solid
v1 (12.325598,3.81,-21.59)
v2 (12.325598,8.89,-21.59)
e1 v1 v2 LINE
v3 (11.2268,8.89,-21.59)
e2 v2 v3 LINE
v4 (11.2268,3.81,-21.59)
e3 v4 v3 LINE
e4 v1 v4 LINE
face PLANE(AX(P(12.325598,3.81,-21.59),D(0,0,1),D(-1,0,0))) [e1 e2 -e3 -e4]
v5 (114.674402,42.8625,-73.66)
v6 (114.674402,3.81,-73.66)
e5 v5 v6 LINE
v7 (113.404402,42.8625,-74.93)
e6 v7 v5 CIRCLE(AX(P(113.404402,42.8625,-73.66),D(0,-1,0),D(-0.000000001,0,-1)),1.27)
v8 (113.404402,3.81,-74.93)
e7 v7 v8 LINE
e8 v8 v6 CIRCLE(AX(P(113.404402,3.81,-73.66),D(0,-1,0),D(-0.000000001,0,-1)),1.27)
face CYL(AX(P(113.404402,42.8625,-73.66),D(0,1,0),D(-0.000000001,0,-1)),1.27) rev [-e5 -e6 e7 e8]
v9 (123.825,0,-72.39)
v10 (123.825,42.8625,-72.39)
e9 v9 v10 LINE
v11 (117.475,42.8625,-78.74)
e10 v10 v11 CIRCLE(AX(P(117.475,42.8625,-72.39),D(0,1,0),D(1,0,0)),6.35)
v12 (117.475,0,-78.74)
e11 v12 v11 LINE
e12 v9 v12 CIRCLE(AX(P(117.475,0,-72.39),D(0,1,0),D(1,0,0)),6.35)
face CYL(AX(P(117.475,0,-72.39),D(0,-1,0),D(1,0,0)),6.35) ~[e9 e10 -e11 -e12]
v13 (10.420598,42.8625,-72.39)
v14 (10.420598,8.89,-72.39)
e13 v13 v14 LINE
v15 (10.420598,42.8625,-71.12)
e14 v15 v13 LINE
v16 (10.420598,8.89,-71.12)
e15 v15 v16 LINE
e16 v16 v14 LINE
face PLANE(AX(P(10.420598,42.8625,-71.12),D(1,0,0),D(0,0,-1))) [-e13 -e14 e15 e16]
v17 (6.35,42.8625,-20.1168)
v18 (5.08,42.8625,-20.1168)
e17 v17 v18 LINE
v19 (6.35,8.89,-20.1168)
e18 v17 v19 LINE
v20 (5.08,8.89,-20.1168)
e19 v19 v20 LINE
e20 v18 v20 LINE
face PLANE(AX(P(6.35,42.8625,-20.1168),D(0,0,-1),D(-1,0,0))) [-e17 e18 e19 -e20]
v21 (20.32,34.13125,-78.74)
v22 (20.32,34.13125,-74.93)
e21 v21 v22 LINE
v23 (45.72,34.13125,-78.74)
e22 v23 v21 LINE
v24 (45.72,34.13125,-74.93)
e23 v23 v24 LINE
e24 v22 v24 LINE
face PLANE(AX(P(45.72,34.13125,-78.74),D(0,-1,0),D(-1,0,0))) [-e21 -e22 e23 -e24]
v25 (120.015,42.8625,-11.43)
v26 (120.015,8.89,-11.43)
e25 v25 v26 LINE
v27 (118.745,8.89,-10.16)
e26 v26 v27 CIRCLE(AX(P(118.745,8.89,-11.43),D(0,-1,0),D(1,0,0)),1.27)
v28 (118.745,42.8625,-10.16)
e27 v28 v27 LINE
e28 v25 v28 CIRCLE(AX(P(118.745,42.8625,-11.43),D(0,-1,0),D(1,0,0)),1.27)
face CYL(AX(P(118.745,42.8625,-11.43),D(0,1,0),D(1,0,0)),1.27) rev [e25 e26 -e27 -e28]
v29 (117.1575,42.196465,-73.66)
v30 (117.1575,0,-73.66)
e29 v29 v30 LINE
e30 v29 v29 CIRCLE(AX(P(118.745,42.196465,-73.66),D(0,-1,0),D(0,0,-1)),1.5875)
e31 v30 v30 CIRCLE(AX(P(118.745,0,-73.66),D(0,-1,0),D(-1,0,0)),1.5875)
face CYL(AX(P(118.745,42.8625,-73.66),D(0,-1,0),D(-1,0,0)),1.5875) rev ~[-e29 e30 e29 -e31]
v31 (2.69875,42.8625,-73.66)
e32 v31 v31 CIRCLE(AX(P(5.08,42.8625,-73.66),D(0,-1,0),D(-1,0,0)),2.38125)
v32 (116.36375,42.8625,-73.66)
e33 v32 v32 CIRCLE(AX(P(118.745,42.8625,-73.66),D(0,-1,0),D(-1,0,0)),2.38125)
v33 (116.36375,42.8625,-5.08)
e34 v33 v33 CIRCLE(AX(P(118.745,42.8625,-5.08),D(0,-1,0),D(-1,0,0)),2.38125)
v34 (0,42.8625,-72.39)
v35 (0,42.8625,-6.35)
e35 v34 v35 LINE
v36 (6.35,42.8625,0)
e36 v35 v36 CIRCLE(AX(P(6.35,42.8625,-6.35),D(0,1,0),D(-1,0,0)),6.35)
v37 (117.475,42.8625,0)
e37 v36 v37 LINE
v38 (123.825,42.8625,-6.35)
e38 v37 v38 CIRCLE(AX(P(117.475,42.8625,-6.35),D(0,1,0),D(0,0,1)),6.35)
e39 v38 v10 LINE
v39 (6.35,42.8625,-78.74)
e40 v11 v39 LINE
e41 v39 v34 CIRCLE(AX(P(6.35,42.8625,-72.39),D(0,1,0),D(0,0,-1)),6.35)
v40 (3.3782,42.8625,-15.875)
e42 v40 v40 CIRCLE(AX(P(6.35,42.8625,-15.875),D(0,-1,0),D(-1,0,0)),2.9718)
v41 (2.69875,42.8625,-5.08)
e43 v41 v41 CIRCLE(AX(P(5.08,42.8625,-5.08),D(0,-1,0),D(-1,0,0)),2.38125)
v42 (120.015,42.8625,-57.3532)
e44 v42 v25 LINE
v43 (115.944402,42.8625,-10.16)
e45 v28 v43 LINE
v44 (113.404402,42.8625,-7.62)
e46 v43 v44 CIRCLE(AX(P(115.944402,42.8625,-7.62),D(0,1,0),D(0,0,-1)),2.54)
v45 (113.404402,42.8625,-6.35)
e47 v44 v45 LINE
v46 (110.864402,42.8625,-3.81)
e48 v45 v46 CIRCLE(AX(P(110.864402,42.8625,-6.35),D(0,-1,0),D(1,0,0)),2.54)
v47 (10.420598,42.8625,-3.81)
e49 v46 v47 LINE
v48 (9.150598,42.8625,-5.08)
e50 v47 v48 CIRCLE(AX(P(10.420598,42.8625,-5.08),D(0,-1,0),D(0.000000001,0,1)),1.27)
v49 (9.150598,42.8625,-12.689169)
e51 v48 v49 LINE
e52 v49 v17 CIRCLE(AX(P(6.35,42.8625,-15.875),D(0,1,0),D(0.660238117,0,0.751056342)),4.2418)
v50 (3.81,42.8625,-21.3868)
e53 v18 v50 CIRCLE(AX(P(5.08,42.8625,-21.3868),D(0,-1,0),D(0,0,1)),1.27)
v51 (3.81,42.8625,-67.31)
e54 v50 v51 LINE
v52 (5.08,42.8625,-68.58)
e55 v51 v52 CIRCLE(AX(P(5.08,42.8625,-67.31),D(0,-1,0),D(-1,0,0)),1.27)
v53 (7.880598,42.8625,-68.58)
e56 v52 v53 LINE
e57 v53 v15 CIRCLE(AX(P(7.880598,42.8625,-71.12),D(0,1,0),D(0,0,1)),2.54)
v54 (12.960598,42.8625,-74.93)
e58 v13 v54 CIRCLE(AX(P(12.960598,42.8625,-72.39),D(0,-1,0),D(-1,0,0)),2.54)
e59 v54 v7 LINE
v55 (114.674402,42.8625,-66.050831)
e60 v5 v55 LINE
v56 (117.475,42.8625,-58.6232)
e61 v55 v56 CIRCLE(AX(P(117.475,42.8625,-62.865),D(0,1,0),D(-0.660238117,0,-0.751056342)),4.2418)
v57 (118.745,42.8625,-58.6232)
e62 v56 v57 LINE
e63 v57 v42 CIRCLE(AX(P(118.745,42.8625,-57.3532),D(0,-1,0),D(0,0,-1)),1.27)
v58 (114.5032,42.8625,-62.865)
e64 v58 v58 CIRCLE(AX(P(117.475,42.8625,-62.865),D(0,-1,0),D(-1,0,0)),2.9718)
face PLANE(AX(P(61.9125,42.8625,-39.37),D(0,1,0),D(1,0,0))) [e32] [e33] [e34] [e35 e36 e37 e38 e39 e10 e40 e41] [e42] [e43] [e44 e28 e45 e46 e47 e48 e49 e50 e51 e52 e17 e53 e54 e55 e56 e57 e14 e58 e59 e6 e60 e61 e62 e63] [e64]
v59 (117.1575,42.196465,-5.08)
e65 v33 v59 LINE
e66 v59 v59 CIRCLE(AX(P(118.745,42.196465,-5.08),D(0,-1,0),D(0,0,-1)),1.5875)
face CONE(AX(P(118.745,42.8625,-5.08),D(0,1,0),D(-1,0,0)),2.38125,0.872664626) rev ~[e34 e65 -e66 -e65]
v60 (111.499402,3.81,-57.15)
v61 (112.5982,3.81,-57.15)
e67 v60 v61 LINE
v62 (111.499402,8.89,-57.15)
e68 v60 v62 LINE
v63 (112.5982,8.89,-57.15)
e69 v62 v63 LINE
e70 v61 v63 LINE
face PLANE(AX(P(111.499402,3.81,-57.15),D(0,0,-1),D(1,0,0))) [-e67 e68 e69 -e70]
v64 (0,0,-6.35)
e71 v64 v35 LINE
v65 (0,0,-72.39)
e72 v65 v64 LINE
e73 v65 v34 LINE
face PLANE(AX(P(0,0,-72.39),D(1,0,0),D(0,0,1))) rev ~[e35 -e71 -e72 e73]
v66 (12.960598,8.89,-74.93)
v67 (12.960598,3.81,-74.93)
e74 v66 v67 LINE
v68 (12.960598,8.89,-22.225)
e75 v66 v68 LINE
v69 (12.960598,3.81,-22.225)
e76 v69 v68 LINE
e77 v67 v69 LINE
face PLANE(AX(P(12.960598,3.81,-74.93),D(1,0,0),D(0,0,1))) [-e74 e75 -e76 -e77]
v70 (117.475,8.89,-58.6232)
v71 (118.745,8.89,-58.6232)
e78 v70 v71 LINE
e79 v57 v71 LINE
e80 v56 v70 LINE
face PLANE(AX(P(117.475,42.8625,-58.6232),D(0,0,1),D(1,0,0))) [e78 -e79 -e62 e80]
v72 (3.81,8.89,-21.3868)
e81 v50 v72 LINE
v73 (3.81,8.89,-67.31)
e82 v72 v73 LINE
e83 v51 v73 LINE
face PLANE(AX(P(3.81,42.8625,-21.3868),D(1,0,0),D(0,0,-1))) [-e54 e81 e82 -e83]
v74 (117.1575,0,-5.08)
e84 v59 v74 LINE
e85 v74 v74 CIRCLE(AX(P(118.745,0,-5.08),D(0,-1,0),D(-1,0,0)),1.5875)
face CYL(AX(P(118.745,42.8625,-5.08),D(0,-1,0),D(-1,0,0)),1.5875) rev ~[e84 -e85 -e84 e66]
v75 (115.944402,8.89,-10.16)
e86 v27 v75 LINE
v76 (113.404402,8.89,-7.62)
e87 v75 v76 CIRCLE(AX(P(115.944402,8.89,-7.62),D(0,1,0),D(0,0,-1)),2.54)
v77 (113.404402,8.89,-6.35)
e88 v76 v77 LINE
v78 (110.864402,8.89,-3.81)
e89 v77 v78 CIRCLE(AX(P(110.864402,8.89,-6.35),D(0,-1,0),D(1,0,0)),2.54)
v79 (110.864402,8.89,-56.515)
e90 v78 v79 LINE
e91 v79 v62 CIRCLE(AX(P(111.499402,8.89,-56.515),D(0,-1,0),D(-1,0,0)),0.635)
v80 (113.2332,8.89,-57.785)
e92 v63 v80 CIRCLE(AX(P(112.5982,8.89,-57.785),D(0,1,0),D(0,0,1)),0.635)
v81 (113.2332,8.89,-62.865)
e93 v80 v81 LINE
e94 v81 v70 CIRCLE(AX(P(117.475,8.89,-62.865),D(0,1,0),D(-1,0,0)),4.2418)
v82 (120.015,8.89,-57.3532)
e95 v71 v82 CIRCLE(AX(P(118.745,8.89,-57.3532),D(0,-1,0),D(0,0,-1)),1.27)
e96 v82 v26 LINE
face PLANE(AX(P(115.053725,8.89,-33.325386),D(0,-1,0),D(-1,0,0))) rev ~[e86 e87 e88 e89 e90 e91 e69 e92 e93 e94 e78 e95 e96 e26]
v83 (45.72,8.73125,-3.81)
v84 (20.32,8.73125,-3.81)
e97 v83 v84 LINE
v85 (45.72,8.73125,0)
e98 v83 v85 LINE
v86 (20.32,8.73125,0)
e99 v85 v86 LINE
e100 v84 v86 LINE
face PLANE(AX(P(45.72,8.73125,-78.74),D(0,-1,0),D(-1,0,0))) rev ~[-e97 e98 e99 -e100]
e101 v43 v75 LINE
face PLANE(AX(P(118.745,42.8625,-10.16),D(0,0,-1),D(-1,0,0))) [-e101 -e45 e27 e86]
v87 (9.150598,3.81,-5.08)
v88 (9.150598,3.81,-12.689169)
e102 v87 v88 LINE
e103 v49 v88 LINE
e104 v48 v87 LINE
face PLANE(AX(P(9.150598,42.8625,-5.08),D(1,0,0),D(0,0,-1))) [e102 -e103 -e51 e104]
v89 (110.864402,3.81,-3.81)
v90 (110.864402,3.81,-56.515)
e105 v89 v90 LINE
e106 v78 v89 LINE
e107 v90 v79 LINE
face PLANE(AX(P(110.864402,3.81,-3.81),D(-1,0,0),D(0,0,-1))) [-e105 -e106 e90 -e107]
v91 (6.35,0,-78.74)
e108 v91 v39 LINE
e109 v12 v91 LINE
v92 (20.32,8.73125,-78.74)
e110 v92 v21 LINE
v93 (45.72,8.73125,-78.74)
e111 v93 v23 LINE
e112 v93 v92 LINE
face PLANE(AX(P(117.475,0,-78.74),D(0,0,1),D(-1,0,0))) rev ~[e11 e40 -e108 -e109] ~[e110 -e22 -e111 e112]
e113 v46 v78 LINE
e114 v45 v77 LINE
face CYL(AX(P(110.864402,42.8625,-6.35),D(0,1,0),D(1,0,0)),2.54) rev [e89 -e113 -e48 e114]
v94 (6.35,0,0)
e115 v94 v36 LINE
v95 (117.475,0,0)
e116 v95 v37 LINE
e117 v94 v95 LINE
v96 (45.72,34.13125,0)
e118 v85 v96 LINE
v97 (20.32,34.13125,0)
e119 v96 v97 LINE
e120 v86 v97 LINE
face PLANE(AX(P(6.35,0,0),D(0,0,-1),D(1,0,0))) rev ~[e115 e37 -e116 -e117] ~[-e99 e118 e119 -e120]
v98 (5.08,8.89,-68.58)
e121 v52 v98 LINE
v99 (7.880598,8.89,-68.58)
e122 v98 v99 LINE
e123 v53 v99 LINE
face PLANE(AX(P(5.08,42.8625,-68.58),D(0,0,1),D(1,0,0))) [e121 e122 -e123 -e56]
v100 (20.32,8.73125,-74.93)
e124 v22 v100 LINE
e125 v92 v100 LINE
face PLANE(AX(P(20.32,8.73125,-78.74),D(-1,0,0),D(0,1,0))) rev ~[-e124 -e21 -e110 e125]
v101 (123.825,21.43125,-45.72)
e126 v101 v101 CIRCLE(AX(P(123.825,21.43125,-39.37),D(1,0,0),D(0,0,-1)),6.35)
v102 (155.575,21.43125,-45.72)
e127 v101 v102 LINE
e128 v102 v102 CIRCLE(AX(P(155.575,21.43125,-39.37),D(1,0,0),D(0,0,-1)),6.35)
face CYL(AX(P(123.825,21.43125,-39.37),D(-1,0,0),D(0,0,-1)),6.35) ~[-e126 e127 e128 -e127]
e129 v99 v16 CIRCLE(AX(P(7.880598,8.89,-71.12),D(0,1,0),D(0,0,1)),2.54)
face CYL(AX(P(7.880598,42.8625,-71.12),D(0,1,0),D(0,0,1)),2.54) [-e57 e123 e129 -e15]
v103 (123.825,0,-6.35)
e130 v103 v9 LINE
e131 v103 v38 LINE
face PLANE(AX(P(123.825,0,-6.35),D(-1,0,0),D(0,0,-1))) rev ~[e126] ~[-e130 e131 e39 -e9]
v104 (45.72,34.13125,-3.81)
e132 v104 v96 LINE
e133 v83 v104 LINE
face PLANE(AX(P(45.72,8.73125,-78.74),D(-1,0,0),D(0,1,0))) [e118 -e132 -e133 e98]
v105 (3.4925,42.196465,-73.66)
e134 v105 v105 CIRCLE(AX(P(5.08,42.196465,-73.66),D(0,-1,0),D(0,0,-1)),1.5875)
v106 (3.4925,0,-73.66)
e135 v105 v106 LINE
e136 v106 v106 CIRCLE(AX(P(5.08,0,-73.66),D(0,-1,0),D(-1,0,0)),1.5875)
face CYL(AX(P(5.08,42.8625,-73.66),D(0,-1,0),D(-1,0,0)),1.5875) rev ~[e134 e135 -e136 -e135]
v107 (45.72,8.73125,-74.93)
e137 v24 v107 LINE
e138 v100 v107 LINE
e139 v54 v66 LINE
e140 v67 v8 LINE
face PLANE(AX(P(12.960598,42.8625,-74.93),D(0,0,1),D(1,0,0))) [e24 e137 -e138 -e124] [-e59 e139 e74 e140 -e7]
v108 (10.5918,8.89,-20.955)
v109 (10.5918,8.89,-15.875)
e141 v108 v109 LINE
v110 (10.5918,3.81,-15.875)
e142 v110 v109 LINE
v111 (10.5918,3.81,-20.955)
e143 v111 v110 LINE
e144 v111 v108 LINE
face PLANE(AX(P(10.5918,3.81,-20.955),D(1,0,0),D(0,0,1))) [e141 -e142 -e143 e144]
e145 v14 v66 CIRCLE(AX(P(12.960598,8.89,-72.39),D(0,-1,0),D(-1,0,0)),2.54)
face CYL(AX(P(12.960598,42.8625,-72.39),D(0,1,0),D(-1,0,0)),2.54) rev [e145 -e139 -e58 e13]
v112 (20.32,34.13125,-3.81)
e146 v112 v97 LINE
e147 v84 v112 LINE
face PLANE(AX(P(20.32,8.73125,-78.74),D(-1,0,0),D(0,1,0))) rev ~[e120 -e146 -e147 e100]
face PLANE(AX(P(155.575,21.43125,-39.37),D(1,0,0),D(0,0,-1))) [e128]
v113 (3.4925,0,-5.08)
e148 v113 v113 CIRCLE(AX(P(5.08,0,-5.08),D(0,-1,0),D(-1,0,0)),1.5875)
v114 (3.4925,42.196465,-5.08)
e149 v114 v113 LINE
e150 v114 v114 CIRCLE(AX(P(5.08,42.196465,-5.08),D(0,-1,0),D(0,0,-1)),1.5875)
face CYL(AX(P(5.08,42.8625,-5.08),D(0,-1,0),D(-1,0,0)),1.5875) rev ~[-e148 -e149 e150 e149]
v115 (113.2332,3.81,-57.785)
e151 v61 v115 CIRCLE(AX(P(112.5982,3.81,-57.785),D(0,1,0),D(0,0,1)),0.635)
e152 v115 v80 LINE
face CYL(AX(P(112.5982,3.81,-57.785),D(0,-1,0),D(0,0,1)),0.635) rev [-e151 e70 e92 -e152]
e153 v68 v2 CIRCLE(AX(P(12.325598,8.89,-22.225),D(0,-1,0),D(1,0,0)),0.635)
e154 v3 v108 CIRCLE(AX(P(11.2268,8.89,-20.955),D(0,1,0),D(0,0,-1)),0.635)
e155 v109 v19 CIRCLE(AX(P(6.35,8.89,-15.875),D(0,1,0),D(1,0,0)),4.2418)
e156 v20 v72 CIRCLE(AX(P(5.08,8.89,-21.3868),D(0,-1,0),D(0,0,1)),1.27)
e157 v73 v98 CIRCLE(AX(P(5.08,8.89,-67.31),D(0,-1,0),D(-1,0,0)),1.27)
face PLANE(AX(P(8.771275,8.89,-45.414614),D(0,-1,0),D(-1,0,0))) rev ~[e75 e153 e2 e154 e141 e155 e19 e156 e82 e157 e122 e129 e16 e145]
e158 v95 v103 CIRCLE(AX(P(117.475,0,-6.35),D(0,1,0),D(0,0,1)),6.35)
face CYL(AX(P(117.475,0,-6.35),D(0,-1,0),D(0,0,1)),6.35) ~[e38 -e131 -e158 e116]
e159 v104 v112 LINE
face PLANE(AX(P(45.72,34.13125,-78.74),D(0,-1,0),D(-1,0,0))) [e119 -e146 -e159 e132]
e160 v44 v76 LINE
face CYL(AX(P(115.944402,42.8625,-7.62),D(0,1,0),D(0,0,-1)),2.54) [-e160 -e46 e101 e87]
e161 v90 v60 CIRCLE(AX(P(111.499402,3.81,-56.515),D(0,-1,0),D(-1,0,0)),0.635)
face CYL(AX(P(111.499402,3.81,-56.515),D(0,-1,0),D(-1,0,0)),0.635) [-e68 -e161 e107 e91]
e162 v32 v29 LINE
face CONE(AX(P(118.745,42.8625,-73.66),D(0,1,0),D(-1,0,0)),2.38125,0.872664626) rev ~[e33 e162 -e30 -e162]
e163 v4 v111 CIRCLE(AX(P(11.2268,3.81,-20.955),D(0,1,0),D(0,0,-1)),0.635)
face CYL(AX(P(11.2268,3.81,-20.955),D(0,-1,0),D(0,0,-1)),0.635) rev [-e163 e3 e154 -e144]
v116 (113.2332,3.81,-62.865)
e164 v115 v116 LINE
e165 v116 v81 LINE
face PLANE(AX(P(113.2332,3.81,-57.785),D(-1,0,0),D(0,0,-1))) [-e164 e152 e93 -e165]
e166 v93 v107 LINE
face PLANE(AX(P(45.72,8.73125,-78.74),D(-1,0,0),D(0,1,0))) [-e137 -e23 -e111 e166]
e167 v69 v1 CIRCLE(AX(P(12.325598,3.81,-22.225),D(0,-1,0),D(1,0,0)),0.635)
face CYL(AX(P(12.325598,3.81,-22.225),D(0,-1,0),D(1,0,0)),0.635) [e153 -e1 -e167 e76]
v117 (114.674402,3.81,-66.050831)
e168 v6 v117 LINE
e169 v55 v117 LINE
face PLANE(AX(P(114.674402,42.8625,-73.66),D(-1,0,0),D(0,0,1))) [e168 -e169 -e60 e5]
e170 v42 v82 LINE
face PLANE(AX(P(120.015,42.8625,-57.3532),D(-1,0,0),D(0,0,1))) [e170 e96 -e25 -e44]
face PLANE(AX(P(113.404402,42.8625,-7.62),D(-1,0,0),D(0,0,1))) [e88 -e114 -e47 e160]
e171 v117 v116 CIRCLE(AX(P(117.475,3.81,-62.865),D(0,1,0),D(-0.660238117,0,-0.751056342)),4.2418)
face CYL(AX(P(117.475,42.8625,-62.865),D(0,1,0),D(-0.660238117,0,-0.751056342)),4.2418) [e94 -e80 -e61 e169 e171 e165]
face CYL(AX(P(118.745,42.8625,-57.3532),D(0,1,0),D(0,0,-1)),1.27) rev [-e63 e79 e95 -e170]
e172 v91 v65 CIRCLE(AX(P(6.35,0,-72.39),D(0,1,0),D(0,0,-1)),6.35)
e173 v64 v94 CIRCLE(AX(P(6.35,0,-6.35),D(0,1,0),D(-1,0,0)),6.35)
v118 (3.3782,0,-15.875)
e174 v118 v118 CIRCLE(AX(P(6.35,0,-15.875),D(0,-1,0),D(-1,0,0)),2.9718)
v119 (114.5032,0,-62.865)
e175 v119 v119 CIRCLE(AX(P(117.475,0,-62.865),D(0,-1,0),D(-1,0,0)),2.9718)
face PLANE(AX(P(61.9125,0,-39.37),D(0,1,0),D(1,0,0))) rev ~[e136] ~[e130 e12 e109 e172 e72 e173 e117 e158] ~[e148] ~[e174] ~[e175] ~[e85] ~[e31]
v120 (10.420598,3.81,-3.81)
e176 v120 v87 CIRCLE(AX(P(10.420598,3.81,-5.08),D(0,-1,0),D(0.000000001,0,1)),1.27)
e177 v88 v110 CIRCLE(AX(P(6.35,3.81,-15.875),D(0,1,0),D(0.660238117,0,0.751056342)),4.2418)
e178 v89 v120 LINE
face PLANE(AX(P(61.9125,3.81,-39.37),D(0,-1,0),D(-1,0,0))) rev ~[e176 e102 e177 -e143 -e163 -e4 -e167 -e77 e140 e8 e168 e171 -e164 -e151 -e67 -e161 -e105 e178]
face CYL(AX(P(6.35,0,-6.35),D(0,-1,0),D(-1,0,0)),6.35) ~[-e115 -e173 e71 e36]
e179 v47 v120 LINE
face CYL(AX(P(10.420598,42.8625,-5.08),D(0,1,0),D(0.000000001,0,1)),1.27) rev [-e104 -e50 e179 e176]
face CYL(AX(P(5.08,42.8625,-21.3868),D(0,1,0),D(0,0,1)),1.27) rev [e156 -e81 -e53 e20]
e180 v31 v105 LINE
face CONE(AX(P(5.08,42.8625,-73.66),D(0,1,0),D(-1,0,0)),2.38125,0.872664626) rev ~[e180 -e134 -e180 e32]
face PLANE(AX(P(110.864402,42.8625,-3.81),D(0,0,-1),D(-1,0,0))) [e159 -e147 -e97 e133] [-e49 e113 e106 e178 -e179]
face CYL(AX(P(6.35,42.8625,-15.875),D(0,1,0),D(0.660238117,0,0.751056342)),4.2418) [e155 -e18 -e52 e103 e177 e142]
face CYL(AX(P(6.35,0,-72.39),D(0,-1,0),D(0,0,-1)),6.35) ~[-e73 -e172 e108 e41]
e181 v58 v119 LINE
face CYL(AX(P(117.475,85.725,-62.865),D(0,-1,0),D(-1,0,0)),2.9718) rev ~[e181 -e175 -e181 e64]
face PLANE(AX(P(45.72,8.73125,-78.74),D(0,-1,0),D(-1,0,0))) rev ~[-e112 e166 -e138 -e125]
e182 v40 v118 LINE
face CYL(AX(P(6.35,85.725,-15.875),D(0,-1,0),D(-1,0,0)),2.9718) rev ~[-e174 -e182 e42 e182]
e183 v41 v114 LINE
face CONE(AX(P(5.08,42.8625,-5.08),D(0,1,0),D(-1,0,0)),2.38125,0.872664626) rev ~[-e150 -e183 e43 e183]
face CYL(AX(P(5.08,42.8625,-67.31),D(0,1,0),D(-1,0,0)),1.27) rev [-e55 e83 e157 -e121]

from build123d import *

# Parameters (mm, degrees)
BOSS_EXTRUDE1_DEPTH                               = 42.8625
CSK_FOR_0_FLAT_HEAD_MACHINE_SCREW_100_D           = 3.175
CSK_FOR_0_FLAT_HEAD_MACHINE_SCREW_100_CSINK_D     = 4.7625
CSK_FOR_0_FLAT_HEAD_MACHINE_SCREW_100_CSINK_ANGLE = 100
A_0_234_DIAMETER_HOLE1_D                          = 5.9436
A_0_234_DIAMETER_HOLE1_DEPTH                      = 42.8625
CUT_EXTRUDE1_DEPTH                                = 39.0525
BOSS_EXTRUDE2_DEPTH                               = 5.08
SKETCH12_W                                        = 25.4
SKETCH12_H                                        = 25.4
CUT_EXTRUDE2_DEPTH                                = 79.74
SKETCH13_R                                        = 6.35
BOSS_EXTRUDE3_DEPTH                               = 31.75


with BuildPart() as part:
    # Sketch1 → Boss-Extrude1 (new body)
    with BuildSketch(Plane(origin=(0, 0, 0), x_dir=(1, 0, 0), z_dir=(0, 1, 0))):
        with BuildLine():
            Line((6.35, 0), (117.475, 0))
            ThreePointArc((117.475, 0), (121.965128061, 1.859871939), (123.825, 6.35))
            Line((123.825, 6.35), (123.825, 72.39))
            ThreePointArc((123.825, 72.39), (121.965128061, 76.880128061), (117.475, 78.74))
            Line((117.475, 78.74), (6.35, 78.74))
            ThreePointArc((6.35, 78.74), (1.859871939, 76.880128061), (0, 72.39))
            Line((0, 72.39), (0, 6.35))
            ThreePointArc((0, 6.35), (1.859871939, 1.859871939), (6.35, 0))
        make_face()
    extrude(amount=BOSS_EXTRUDE1_DEPTH)

    # CSK for #0 Flat Head Machine Screw (100)1 (through all)
    with Locations(Plane(origin=(0, 42.8625, 0), x_dir=(1, 0, 0), z_dir=(0, 1, 0))):
        with Locations((5.08, 5.08), (5.08, 73.66), (118.745, 73.66), (118.745, 5.08)):
            CounterSinkHole(CSK_FOR_0_FLAT_HEAD_MACHINE_SCREW_100_D / 2, CSK_FOR_0_FLAT_HEAD_MACHINE_SCREW_100_CSINK_D / 2, counter_sink_angle=CSK_FOR_0_FLAT_HEAD_MACHINE_SCREW_100_CSINK_ANGLE)

    # A (0.234) Diameter Hole1
    with Locations(Plane(origin=(0, 42.8625, 0), x_dir=(1, 0, 0), z_dir=(0, 1, 0))):
        with Locations((6.35, 15.875), (117.475, 62.865)):
            Hole(A_0_234_DIAMETER_HOLE1_D / 2, depth=A_0_234_DIAMETER_HOLE1_DEPTH)

    # Sketch9 → Cut-Extrude1 (cut)
    with BuildSketch(Plane(origin=(0, 42.8625, 0), x_dir=(1, 0, 0), z_dir=(0, 1, 0))):
        with BuildLine():
            Line((5.08, 68.58), (7.880598047, 68.58))
            ThreePointArc((7.880598047, 68.58), (9.676649271, 69.323948776), (10.420598047, 71.12))
            Line((10.420598047, 71.12), (10.420598047, 72.39))
            ThreePointArc((10.420598047, 72.39), (11.164546822, 74.186051224), (12.960598047, 74.93))
            Line((12.960598047, 74.93), (61.9125, 74.93))
            Line((61.9125, 74.93), (113.404401953, 74.93))
            ThreePointArc((113.404401953, 74.93), (114.302427566, 74.558025612), (114.674401953, 73.66))
            Line((114.674401953, 73.66), (114.674401953, 66.05083079))
            ThreePointArc((114.674401953, 66.05083079), (113.505962063, 61.368468979), (117.475, 58.6232))
            Line((117.475, 58.6232), (118.745, 58.6232))
            ThreePointArc((118.745, 58.6232), (119.643025612, 58.251225612), (120.015, 57.3532))
            Line((120.015, 57.3532), (120.015, 11.43))
            ThreePointArc((120.015, 11.43), (119.643025612, 10.531974388), (118.745, 10.16))
            Line((118.745, 10.16), (115.944401953, 10.16))
            ThreePointArc((115.944401953, 10.16), (114.148350729, 9.416051224), (113.404401953, 7.62))
            Line((113.404401953, 7.62), (113.404401953, 6.35))
            ThreePointArc((113.404401953, 6.35), (112.660453178, 4.553948776), (110.864401953, 3.81))
            Line((110.864401953, 3.81), (61.9125, 3.81))
            Line((61.9125, 3.81), (10.420598047, 3.81))
            ThreePointArc((10.420598047, 3.81), (9.522572434, 4.181974388), (9.150598047, 5.08))
            Line((9.150598047, 5.08), (9.150598047, 12.68916921))
            ThreePointArc((9.150598047, 12.68916921), (10.319037937, 17.371531021), (6.35, 20.1168))
            Line((6.35, 20.1168), (5.08, 20.1168))
            ThreePointArc((5.08, 20.1168), (4.181974388, 20.488774388), (3.81, 21.3868))
            Line((3.81, 21.3868), (3.81, 67.31))
            ThreePointArc((3.81, 67.31), (4.181974388, 68.208025612), (5.08, 68.58))
        make_face()
    extrude(amount=-CUT_EXTRUDE1_DEPTH, mode=Mode.SUBTRACT)

    # Sketch11 → Boss-Extrude2 (add)
    with BuildSketch(Plane(origin=(0, 3.81, 0), x_dir=(1, 0, 0), z_dir=(0, 1, 0))):
        with BuildLine():
            Line((12.960598047, 74.93), (12.960598047, 22.225))
            ThreePointArc((12.960598047, 22.225), (12.774610853, 21.775987194), (12.325598047, 21.59))
            Line((12.325598047, 21.59), (11.2268, 21.59))
            ThreePointArc((11.2268, 21.59), (10.777787194, 21.404012806), (10.5918, 20.955))
            Line((10.5918, 20.955), (10.5918, 15.875))
            ThreePointArc((10.5918, 15.875), (9.349405544, 18.874405544), (6.35, 20.1168))
            Line((6.35, 20.1168), (5.08, 20.1168))
            ThreePointArc((5.08, 20.1168), (4.181974388, 20.488774388), (3.81, 21.3868))
            Line((3.81, 21.3868), (3.81, 67.31))
            ThreePointArc((3.81, 67.31), (4.181974388, 68.208025612), (5.08, 68.58))
            Line((5.08, 68.58), (7.880598047, 68.58))
            ThreePointArc((7.880598047, 68.58), (9.676649271, 69.323948776), (10.420598047, 71.12))
            Line((10.420598047, 71.12), (10.420598047, 72.39))
            ThreePointArc((10.420598047, 72.39), (11.164546822, 74.186051224), (12.960598047, 74.93))
        make_face()
        with BuildLine():
            Line((110.864401953, 3.81), (110.864401953, 56.515))
            ThreePointArc((110.864401953, 56.515), (111.050389147, 56.964012806), (111.499401953, 57.15))
            Line((111.499401953, 57.15), (112.5982, 57.15))
            ThreePointArc((112.5982, 57.15), (113.047212806, 57.335987194), (113.2332, 57.785))
            Line((113.2332, 57.785), (113.2332, 62.865))
            ThreePointArc((113.2332, 62.865), (114.475594456, 59.865594456), (117.475, 58.6232))
            Line((117.475, 58.6232), (118.745, 58.6232))
            ThreePointArc((118.745, 58.6232), (119.643025612, 58.251225612), (120.015, 57.3532))
            Line((120.015, 57.3532), (120.015, 11.43))
            ThreePointArc((120.015, 11.43), (119.643025612, 10.531974388), (118.745, 10.16))
            Line((118.745, 10.16), (115.944401953, 10.16))
            ThreePointArc((115.944401953, 10.16), (114.148350729, 9.416051224), (113.404401953, 7.62))
            Line((113.404401953, 7.62), (113.404401953, 6.35))
            ThreePointArc((113.404401953, 6.35), (112.660453178, 4.553948776), (110.864401953, 3.81))
        make_face()
    extrude(amount=BOSS_EXTRUDE2_DEPTH)

    # Sketch12 → Cut-Extrude2 (cut, through all)
    with BuildSketch(Plane(origin=(0, 0, -78.74), x_dir=(-1, 0, 0), z_dir=(0, 0, -1))):
        with Locations((-33.02, 21.43125)):
            Rectangle(SKETCH12_W, SKETCH12_H)
    extrude(amount=-CUT_EXTRUDE2_DEPTH, mode=Mode.SUBTRACT)

    # Sketch13 → Boss-Extrude3 (add)
    with BuildSketch(Plane(origin=(123.825, 0, 0), x_dir=(0, 0, -1), z_dir=(1, 0, 0))):
        with Locations((39.37, 21.43125)):
            Circle(SKETCH13_R)
    extrude(amount=BOSS_EXTRUDE3_DEPTH)


solid = part.part
